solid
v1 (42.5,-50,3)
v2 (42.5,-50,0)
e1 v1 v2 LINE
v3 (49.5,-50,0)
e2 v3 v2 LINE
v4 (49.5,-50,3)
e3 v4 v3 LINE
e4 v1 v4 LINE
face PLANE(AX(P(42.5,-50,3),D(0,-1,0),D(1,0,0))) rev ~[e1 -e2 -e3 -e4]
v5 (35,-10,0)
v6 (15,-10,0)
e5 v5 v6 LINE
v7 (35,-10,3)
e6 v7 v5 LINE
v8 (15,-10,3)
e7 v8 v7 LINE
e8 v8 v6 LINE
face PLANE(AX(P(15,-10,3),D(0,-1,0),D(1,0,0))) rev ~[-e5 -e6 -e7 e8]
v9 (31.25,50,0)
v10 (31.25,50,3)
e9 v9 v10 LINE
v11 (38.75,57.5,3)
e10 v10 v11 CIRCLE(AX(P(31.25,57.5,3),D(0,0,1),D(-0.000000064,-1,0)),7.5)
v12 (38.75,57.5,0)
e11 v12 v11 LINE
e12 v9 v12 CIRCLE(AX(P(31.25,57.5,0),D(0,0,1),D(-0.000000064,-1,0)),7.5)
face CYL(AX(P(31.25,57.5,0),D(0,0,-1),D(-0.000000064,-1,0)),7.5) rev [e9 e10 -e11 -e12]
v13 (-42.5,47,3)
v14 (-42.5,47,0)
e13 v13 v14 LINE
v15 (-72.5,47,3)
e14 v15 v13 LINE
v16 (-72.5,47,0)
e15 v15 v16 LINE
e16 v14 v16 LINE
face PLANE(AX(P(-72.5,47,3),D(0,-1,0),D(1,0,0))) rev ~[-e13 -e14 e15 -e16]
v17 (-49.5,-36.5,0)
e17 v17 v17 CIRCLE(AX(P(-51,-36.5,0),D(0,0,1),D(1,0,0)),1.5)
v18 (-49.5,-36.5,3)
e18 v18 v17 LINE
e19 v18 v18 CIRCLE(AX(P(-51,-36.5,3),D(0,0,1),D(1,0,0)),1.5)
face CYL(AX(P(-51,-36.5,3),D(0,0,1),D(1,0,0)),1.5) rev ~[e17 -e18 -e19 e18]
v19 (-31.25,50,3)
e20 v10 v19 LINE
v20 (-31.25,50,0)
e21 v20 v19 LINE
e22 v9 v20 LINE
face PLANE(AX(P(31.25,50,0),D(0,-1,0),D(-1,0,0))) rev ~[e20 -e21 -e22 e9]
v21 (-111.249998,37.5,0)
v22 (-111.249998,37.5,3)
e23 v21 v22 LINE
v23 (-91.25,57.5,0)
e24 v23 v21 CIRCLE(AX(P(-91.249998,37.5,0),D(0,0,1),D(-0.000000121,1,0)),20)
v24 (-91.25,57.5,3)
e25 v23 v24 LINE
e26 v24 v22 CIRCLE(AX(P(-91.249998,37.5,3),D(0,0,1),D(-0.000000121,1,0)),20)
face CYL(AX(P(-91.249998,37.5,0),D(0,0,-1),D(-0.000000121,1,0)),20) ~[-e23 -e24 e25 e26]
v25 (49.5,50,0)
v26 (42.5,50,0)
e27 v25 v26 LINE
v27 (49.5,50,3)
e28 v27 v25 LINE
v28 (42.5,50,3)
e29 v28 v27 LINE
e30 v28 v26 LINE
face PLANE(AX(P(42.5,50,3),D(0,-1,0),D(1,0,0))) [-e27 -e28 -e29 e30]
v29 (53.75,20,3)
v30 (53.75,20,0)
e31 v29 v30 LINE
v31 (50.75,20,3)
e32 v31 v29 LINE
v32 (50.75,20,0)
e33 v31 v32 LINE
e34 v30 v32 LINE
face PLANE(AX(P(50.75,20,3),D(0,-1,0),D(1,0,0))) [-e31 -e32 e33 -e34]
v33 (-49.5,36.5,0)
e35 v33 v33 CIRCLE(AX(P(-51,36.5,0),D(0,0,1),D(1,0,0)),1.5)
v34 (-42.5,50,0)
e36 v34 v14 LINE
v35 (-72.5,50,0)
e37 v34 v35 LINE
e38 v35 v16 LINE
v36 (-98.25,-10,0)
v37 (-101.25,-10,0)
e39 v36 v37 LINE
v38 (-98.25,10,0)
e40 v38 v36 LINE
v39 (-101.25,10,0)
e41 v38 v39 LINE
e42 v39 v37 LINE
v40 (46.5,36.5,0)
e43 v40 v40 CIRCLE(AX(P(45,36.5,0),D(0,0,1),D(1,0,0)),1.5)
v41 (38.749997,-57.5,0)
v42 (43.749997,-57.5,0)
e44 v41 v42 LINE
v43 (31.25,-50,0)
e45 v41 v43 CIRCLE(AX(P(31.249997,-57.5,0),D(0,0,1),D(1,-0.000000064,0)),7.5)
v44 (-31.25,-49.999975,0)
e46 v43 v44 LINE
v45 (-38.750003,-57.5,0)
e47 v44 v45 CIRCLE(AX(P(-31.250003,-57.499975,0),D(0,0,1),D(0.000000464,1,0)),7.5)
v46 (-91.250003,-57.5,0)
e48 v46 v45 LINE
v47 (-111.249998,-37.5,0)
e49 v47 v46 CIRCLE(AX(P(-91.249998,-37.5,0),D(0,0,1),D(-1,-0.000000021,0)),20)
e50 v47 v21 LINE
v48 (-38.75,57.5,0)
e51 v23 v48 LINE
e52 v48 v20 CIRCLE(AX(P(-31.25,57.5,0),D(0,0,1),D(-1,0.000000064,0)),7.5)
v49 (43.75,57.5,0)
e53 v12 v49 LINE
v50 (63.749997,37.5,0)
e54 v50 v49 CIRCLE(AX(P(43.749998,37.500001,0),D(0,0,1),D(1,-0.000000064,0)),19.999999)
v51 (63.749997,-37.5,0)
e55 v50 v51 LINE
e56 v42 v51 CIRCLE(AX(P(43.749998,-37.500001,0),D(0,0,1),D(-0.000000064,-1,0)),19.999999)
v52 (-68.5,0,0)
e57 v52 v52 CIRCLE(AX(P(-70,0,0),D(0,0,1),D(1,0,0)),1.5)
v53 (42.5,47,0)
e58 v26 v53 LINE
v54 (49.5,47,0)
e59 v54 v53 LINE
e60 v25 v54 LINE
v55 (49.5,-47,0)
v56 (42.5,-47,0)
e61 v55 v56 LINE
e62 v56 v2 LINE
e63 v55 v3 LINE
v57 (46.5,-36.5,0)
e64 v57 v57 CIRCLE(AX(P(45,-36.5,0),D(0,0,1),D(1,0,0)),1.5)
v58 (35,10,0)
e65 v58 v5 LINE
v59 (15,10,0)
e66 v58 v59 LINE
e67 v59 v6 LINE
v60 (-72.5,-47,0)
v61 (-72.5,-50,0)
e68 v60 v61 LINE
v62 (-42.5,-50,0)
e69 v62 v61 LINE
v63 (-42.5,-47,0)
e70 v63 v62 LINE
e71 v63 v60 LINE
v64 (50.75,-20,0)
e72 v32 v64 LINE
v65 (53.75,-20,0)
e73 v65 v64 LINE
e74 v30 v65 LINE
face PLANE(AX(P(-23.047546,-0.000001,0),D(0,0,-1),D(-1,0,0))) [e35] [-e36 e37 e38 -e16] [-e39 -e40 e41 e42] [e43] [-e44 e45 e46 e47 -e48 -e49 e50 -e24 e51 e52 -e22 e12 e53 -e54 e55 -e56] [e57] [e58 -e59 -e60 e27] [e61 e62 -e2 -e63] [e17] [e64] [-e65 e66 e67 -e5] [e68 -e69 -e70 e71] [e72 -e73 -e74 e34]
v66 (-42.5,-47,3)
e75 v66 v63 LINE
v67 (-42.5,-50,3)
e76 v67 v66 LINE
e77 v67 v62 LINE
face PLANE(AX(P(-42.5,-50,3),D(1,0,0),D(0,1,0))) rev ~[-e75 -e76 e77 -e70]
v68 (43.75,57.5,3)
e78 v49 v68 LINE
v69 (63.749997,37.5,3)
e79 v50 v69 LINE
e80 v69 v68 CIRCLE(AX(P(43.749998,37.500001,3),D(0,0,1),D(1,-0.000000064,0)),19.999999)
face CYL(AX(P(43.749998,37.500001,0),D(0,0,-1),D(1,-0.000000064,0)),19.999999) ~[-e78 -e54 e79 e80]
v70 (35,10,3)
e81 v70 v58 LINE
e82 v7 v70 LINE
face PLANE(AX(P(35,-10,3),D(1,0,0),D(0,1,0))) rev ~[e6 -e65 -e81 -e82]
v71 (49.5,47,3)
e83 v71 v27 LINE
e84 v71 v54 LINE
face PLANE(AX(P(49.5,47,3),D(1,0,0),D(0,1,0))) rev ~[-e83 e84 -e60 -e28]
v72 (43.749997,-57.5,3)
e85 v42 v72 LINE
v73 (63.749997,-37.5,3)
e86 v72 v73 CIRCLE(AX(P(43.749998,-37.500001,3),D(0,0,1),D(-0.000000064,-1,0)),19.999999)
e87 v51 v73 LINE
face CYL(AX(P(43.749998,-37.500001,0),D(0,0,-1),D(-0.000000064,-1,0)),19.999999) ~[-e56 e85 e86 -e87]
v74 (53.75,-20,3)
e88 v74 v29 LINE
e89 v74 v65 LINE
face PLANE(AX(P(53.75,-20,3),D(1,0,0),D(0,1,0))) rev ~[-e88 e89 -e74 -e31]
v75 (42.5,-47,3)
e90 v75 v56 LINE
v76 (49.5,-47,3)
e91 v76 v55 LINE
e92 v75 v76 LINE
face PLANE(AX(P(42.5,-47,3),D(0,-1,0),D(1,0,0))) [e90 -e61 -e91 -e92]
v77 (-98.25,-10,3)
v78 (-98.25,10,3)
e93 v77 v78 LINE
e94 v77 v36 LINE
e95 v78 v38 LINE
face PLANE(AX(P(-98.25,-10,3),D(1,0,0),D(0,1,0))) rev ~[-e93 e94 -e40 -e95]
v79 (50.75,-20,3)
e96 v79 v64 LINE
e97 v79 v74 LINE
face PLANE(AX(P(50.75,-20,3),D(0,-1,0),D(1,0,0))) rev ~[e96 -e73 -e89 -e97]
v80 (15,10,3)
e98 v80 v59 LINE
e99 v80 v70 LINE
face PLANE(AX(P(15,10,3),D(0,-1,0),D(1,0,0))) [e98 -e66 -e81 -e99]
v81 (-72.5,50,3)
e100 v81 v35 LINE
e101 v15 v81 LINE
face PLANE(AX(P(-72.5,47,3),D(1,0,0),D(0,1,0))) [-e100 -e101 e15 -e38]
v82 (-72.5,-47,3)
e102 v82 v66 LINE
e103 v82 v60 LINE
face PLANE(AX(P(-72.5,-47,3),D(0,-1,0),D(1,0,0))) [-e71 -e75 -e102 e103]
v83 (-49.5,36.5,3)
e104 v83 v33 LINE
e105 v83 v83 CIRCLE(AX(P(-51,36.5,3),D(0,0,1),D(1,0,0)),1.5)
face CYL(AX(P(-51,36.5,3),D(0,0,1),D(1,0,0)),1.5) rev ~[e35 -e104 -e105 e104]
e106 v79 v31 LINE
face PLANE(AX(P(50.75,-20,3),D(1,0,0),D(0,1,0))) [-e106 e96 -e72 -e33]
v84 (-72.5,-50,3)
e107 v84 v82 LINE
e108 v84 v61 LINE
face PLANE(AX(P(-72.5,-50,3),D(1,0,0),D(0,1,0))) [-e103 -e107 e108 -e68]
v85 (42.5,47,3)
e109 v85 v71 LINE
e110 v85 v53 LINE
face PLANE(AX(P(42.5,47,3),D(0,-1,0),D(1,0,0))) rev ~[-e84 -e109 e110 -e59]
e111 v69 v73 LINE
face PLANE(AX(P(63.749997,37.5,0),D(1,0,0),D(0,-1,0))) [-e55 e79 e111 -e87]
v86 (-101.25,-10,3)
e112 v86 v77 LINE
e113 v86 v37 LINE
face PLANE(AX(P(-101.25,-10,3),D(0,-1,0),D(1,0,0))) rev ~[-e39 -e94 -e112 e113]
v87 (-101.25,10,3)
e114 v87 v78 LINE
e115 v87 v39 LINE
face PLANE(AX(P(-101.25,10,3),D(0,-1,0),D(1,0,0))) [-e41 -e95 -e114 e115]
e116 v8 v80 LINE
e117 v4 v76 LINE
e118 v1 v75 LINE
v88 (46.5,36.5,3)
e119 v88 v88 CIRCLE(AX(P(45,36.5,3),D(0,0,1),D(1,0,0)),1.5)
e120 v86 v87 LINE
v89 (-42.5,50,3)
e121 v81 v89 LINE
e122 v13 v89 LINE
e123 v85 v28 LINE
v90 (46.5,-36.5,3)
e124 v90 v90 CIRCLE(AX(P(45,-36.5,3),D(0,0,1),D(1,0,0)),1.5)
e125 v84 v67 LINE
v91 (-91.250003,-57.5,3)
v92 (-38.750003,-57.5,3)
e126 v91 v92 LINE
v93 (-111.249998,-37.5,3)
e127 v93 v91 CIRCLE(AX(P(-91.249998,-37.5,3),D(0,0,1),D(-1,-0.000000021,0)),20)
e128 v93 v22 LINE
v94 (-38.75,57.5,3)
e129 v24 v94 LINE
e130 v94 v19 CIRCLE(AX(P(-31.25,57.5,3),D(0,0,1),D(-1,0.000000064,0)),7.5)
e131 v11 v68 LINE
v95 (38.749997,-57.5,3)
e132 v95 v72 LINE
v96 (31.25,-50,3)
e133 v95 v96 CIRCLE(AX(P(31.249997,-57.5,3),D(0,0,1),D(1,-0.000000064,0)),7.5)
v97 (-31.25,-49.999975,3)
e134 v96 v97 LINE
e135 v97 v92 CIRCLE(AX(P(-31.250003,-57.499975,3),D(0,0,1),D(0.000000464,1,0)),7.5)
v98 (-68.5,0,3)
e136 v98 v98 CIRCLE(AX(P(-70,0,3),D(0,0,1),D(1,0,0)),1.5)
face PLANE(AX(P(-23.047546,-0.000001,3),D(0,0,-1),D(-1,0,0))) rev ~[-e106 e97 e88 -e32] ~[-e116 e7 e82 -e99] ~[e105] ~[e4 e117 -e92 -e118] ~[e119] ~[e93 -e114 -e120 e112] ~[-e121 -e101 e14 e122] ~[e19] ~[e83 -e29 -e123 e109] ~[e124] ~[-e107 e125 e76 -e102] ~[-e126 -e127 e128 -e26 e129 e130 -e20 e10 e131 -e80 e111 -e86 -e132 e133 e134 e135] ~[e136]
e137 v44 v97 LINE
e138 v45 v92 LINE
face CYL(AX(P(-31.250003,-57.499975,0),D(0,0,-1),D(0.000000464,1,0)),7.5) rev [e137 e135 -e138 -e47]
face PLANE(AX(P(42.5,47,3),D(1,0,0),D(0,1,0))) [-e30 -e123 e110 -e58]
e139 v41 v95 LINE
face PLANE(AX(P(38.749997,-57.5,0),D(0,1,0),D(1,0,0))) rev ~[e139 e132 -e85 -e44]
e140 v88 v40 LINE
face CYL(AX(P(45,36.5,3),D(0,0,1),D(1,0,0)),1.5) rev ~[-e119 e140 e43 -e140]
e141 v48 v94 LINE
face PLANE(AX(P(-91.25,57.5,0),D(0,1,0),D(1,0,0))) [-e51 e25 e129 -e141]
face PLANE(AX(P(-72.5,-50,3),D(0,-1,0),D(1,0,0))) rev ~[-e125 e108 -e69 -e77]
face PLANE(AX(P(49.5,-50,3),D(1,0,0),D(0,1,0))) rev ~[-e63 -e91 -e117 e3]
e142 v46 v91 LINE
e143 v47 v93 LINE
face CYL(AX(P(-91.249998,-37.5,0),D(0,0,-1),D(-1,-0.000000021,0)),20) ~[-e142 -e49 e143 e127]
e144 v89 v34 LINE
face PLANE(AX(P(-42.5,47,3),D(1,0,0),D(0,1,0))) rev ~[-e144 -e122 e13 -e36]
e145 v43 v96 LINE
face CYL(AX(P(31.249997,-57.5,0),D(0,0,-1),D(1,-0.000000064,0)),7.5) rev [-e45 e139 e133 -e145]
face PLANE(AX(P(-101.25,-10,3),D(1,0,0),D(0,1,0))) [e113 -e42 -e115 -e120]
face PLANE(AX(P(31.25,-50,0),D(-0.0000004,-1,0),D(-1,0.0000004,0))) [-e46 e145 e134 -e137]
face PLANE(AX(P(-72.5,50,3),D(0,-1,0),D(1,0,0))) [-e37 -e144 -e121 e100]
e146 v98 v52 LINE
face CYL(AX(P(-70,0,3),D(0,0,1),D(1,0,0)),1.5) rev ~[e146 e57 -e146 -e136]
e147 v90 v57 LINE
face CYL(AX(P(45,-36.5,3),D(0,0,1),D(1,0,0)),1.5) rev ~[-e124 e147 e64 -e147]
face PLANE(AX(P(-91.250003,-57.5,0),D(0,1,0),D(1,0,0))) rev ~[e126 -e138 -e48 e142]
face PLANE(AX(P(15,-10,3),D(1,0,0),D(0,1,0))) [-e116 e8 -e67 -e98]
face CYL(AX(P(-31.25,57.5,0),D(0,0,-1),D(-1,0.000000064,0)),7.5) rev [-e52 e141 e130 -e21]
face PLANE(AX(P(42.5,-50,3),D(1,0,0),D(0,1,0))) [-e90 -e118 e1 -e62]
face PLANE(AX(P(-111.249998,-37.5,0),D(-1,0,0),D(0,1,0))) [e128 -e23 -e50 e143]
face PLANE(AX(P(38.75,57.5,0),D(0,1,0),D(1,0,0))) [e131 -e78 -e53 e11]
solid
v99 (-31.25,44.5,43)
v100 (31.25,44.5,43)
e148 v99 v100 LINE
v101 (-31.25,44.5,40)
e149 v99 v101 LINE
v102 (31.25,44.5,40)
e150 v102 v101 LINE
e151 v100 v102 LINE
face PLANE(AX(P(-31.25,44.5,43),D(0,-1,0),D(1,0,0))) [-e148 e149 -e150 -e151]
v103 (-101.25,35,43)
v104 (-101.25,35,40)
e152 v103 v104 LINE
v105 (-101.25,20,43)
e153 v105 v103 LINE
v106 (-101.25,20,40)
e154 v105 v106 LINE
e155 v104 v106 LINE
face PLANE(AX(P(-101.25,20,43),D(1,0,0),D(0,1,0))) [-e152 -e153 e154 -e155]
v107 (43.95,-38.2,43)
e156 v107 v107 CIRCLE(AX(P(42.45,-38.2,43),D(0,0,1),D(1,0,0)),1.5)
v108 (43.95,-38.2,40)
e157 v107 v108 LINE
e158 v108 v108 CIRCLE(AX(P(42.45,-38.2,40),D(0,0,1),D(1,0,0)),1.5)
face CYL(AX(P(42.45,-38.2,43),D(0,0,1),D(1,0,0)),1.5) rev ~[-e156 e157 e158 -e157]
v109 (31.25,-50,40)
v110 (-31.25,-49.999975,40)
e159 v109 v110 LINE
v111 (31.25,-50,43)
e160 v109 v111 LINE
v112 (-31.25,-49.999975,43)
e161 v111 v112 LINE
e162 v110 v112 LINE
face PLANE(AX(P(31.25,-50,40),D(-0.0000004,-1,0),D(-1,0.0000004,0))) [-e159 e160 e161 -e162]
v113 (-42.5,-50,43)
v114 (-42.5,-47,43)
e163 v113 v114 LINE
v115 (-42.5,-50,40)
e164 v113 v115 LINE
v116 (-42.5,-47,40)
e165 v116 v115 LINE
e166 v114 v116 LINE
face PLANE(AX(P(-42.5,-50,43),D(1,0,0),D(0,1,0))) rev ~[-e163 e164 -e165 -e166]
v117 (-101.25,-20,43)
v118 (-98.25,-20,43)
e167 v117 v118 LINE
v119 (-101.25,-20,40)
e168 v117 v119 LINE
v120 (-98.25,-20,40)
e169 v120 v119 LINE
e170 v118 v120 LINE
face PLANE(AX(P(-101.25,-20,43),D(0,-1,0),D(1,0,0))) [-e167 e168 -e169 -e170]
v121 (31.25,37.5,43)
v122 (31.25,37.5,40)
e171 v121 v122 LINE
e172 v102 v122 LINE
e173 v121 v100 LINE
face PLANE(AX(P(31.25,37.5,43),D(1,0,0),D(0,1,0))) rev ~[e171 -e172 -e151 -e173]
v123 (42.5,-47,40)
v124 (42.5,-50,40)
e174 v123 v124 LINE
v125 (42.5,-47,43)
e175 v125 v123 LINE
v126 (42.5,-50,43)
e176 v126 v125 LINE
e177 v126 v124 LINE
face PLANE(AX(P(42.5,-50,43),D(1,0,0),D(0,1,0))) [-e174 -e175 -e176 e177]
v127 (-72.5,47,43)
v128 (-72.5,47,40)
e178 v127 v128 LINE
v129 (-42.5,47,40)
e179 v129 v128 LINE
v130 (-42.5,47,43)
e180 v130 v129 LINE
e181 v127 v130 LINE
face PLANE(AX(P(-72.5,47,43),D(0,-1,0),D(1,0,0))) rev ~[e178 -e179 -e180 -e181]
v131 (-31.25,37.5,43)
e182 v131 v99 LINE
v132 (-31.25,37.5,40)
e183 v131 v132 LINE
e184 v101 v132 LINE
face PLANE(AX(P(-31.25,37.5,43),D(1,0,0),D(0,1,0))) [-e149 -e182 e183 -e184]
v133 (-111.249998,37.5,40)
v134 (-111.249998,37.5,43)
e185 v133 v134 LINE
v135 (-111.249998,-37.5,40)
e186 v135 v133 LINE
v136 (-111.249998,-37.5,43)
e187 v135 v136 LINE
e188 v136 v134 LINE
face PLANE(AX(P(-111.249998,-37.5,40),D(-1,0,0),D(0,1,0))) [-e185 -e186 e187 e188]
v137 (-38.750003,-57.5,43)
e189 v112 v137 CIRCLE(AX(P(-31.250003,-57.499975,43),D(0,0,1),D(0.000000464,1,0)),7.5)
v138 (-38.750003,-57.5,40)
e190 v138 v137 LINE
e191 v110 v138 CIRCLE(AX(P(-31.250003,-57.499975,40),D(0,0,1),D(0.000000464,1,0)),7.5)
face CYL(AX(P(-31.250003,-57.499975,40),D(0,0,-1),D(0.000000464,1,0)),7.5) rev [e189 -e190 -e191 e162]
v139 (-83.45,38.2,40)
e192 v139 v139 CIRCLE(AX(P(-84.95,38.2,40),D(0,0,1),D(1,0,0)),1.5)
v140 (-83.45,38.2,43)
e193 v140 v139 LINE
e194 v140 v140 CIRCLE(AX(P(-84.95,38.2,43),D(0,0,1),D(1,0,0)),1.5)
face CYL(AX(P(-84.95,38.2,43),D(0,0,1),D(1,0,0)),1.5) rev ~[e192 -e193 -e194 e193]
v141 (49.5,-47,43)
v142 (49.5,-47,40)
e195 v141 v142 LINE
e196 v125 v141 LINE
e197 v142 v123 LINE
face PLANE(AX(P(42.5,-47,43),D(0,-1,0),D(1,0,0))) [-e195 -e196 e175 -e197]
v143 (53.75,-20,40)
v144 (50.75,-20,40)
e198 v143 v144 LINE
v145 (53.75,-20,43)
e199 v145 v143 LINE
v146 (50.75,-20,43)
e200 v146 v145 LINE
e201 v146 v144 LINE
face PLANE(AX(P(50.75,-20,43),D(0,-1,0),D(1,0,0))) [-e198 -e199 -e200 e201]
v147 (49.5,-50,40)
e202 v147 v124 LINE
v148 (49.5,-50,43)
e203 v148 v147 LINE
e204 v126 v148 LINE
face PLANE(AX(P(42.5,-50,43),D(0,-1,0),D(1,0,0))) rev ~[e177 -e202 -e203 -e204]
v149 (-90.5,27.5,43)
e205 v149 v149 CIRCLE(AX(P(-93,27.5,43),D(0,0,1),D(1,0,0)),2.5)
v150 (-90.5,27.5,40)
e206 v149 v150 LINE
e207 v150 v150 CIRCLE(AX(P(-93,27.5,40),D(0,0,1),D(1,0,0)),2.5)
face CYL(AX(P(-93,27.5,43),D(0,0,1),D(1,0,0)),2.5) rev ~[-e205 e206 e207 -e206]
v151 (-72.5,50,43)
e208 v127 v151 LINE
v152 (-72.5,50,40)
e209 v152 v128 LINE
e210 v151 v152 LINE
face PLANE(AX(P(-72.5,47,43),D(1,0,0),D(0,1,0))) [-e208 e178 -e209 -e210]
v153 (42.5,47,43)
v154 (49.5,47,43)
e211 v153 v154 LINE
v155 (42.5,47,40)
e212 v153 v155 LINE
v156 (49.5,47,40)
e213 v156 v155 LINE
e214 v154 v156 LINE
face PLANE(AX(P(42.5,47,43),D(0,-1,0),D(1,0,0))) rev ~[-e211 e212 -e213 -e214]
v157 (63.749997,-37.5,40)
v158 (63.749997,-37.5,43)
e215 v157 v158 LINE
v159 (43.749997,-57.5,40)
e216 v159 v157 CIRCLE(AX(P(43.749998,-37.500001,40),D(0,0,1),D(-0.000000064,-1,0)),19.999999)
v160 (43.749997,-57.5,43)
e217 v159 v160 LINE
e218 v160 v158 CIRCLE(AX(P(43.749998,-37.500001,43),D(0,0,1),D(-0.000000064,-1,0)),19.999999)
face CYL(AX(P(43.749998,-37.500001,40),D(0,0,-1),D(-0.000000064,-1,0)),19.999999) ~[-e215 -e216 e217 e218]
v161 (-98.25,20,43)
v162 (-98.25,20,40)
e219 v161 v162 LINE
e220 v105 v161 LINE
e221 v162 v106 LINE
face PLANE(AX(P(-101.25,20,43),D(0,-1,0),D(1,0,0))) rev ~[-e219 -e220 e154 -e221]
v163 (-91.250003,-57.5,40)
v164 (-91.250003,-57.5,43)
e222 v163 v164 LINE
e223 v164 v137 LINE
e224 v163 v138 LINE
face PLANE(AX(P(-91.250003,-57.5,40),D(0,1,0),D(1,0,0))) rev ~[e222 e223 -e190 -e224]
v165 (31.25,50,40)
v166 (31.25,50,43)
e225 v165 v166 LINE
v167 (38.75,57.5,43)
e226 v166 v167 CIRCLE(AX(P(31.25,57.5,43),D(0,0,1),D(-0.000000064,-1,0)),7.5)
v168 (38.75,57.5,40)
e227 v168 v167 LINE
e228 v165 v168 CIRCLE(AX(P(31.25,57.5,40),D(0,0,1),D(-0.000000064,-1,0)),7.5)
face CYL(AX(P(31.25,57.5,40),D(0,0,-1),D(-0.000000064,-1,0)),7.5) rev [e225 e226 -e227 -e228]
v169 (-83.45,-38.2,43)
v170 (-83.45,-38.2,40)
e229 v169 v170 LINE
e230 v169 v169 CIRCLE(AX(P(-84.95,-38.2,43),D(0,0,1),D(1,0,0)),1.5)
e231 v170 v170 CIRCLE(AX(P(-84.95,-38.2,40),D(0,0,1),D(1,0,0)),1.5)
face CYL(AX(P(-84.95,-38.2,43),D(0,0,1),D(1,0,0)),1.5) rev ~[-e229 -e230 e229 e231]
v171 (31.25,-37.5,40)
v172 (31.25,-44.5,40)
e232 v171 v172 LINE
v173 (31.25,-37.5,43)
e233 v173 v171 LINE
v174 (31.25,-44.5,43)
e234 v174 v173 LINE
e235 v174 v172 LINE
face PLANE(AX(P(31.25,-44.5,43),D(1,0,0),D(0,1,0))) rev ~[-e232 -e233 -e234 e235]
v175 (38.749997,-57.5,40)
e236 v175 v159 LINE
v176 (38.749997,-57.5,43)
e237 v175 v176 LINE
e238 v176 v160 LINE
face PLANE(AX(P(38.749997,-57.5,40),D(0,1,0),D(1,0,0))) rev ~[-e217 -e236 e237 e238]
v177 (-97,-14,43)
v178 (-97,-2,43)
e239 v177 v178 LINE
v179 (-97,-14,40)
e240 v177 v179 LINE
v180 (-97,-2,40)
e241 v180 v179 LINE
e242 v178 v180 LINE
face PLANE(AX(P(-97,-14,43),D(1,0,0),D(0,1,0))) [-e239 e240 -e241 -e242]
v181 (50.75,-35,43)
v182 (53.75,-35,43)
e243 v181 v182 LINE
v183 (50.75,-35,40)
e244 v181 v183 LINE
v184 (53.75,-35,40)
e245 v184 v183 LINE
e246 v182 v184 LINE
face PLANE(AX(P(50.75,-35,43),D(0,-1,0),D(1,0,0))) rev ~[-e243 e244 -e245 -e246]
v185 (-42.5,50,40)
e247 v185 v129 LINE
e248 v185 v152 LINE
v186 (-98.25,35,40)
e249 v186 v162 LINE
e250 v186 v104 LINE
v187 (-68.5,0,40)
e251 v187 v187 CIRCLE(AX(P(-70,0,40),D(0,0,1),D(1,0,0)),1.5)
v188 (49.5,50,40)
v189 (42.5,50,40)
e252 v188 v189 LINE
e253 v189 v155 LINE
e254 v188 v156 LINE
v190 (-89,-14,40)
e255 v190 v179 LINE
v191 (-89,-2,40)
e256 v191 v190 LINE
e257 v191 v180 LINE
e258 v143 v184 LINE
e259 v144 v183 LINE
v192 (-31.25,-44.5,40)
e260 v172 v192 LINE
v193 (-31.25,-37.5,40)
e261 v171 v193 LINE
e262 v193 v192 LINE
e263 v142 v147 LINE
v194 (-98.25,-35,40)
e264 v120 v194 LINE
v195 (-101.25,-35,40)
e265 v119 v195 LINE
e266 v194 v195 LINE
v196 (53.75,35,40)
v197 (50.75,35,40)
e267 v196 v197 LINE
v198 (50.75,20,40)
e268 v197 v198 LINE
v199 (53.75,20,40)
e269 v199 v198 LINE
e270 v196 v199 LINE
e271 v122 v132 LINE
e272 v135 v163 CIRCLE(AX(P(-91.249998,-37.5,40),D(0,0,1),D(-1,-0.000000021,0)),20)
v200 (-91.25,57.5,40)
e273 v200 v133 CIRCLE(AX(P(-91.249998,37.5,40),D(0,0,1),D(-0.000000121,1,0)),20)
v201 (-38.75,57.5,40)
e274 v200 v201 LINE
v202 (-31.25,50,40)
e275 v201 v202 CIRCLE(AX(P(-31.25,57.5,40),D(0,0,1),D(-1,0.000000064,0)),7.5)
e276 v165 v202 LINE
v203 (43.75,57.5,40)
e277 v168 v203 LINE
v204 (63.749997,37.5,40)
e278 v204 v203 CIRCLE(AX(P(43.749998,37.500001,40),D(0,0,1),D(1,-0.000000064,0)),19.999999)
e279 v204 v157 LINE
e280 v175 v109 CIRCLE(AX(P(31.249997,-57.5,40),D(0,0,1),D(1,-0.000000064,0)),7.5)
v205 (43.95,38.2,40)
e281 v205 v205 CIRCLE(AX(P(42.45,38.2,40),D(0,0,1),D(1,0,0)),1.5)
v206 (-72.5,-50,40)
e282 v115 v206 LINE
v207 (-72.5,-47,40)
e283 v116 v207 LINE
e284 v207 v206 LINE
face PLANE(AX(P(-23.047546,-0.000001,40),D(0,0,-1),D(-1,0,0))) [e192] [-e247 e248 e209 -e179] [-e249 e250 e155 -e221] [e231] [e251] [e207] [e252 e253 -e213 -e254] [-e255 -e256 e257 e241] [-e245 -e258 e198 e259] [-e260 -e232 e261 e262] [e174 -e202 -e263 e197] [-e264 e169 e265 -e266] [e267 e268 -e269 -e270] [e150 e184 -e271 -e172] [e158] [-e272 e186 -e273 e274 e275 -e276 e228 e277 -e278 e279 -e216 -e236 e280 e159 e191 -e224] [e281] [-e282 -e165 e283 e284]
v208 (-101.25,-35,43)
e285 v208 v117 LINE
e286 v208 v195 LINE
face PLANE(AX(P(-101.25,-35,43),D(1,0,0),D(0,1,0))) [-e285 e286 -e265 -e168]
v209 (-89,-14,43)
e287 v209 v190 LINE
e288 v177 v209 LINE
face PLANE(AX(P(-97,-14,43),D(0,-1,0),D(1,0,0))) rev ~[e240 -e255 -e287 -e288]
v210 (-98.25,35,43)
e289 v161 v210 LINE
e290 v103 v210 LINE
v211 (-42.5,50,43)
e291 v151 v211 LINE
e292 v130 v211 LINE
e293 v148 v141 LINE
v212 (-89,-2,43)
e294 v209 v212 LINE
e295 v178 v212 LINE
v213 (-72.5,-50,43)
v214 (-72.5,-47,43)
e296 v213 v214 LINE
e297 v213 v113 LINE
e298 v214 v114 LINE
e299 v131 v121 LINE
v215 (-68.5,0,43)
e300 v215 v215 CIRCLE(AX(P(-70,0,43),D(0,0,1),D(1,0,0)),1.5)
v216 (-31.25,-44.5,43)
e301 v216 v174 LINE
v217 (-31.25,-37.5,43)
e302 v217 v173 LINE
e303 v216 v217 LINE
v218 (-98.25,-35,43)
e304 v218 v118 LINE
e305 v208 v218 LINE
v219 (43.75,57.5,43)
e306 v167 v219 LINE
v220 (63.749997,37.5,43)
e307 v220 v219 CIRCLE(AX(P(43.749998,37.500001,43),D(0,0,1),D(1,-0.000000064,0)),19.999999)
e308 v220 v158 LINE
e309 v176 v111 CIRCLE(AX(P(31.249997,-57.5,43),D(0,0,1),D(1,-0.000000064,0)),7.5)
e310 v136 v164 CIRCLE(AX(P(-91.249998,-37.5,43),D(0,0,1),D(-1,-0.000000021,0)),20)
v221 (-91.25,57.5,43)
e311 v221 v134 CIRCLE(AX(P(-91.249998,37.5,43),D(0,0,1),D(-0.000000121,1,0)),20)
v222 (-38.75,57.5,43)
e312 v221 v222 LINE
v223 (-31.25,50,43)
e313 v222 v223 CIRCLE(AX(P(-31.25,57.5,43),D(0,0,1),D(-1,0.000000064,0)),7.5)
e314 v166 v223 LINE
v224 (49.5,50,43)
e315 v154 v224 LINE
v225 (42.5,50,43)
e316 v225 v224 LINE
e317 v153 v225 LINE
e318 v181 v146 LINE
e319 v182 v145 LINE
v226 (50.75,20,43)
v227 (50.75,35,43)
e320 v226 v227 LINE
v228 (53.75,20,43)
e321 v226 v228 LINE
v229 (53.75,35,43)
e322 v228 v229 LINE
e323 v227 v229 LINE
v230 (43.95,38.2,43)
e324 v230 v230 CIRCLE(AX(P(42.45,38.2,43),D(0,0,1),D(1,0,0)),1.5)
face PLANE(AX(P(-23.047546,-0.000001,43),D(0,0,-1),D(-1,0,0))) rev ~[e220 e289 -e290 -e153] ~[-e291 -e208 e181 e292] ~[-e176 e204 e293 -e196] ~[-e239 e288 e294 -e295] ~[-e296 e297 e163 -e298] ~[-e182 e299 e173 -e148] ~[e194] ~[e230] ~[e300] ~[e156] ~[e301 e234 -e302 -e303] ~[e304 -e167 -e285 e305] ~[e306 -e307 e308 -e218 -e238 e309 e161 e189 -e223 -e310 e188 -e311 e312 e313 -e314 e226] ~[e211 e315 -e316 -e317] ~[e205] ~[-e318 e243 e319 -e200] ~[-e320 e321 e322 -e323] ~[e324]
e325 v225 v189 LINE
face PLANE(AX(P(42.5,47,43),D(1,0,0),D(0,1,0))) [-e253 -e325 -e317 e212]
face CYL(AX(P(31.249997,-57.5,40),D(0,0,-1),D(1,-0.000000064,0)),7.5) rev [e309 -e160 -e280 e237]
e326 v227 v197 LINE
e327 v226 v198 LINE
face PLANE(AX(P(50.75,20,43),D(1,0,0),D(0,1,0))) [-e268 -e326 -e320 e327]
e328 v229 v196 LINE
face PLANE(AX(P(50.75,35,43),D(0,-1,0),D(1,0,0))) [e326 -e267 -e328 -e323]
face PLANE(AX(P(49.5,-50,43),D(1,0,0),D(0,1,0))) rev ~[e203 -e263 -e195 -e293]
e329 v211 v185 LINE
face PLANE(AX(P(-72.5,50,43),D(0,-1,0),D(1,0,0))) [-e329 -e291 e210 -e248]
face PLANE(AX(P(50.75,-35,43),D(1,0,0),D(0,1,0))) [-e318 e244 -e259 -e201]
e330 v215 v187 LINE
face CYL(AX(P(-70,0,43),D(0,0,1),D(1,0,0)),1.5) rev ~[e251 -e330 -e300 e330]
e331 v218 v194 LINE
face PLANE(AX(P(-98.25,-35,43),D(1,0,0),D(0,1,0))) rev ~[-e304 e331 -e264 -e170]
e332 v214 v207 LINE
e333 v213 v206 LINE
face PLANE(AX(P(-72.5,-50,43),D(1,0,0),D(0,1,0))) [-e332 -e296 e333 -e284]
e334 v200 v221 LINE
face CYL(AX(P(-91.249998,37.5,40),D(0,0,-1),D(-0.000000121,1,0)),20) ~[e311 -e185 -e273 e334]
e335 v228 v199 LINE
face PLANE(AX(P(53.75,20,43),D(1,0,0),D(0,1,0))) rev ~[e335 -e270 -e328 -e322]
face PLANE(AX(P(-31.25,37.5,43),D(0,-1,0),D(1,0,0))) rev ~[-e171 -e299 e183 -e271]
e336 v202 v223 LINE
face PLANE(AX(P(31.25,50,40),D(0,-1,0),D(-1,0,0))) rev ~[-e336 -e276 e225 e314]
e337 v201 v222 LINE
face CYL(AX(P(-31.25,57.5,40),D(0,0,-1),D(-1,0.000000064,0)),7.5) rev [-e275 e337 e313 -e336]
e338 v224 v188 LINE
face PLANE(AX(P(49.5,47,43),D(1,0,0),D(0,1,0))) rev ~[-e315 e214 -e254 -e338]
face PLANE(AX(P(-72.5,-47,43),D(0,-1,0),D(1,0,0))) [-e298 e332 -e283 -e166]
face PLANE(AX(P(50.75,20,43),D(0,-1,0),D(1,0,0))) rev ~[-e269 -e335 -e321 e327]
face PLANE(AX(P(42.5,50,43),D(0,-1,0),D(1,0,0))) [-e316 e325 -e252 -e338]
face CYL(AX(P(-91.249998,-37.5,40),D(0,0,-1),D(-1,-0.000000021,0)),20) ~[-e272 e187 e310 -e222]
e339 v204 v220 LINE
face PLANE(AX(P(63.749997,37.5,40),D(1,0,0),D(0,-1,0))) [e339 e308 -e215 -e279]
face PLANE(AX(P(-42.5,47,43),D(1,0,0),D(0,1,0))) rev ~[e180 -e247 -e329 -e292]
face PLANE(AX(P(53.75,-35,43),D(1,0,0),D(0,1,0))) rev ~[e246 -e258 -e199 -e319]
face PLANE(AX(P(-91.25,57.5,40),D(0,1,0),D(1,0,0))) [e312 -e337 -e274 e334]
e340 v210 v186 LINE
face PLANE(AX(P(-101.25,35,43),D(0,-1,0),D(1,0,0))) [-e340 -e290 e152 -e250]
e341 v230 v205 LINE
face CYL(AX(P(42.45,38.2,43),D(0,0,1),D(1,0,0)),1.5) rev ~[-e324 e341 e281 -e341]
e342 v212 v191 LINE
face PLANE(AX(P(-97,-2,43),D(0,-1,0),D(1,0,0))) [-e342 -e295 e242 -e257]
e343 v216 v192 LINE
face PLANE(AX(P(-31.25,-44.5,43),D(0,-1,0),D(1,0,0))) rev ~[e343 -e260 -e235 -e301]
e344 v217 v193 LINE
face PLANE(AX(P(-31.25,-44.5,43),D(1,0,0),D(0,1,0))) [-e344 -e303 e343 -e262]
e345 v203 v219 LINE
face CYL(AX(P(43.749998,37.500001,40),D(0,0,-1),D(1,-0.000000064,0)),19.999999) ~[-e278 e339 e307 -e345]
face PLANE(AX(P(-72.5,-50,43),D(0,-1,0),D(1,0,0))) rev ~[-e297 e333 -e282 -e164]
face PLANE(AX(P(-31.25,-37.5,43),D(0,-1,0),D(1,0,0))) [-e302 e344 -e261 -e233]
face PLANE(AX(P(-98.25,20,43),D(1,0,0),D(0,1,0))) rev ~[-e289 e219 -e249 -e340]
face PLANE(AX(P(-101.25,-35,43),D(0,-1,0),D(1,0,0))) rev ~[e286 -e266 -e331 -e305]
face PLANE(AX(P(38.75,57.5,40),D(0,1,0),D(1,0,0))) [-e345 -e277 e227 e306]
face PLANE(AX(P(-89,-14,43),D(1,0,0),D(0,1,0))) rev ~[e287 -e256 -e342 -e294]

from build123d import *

# Parameters (mm, degrees)
PAD_DEPTH       = 3
SKETCH001_R     = 1.5
POCKET_DEPTH    = 3.001
SKETCH002_W     = 30
SKETCH002_H     = 3
SKETCH002_W_2   = 7
POCKET001_DEPTH = 3.001
SKETCH003_W     = 3
SKETCH003_H     = 20
SKETCH003_H_2   = 40
POCKET002_DEPTH = 3.001
SKETCH004_R     = 1.5
SKETCH004_W     = 20
SKETCH004_H     = 20
POCKET003_DEPTH = 3.001
SKETCH005_W     = 3
SKETCH005_H     = 15
POCKET004_DEPTH = 3.001
SKETCH006_W     = 62.5
SKETCH006_H     = 7
POCKET005_DEPTH = 3.001
SKETCH007_R     = 1.5
POCKET006_DEPTH = 3.001
SKETCH008_R     = 2.5
SKETCH008_W     = 8
SKETCH008_H     = 12
POCKET007_DEPTH = 3.001


with BuildPart() as tapainferiorencastrelaterales:
    # Sketch → Pad (new body)
    with BuildSketch(Plane.XY):
        with BuildLine():
            Line((63.749997, 37.5), (63.749997, -37.5))
            ThreePointArc((43.749997, -57.5), (57.892133, -51.642136), (63.749997, -37.5))
            Line((38.749997, -57.5), (43.749997, -57.5))
            ThreePointArc((38.749997, -57.5), (36.553299, -52.1967), (31.25, -50))
            Line((31.25, -50), (-31.25, -49.999975))
            ThreePointArc((-31.25, -49.999975), (-36.553312, -52.196682), (-38.750003, -57.5))
            Line((-91.250003, -57.5), (-38.750003, -57.5))
            ThreePointArc((-111.249998, -37.5), (-105.392135, -51.642134), (-91.250003, -57.5))
            Line((-111.249998, -37.5), (-111.249998, 37.5))
            ThreePointArc((-91.25, 57.5), (-105.392134, 51.642135), (-111.249998, 37.5))
            Line((-91.25, 57.5), (-38.75, 57.5))
            ThreePointArc((-38.75, 57.5), (-36.553301, 52.196699), (-31.25, 50))
            Line((31.25, 50), (-31.25, 50))
            ThreePointArc((31.25, 50), (36.553301, 52.196699), (38.75, 57.5))
            Line((38.75, 57.5), (43.75, 57.5))
            ThreePointArc((63.749997, 37.5), (57.892134, 51.642135), (43.75, 57.5))
        make_face()
    extrude(amount=PAD_DEPTH)

    # Sketch001 → Pocket (cut, through all)
    with BuildSketch(Plane.XY.offset(3)):
        with Locations((-70, 0)):
            Circle(SKETCH001_R)
    extrude(amount=-POCKET_DEPTH, mode=Mode.SUBTRACT)

    # Sketch002 → Pocket001 (cut, through all)
    with BuildSketch(Plane.XY.offset(3)):
        with Locations((-57.5, -48.5)):
            Rectangle(SKETCH002_W, SKETCH002_H)
        with Locations((-57.5, 48.5)):
            Rectangle(SKETCH002_W, SKETCH002_H)
        with Locations((46, 48.5)):
            Rectangle(SKETCH002_W_2, SKETCH002_H)
        with Locations((46, -48.5)):
            Rectangle(SKETCH002_W_2, SKETCH002_H)
    extrude(amount=-POCKET001_DEPTH, mode=Mode.SUBTRACT)


with BuildPart() as tapainferiorhuecospcb:
    # Pocket002 base: copy of TapaInferiorEncastreLaterales
    add(tapainferiorencastrelaterales.part)

    # Sketch003 → Pocket002 (cut, through all)
    with BuildSketch(Plane.XY.offset(3)):
        with Locations((-99.75, 0)):
            Rectangle(SKETCH003_W, SKETCH003_H)
        with Locations((52.25, 0)):
            Rectangle(SKETCH003_W, SKETCH003_H_2)
    extrude(amount=-POCKET002_DEPTH, mode=Mode.SUBTRACT)

    # Sketch004 → Pocket003 (cut, through all)
    with BuildSketch(Plane.XY.offset(3)):
        with Locations((-51, 36.5)):
            Circle(SKETCH004_R)
        with Locations((-51, -36.5)):
            Circle(SKETCH004_R)
        with Locations((45, 36.5)):
            Circle(SKETCH004_R)
        with Locations((45, -36.5)):
            Circle(SKETCH004_R)
        with Locations((25, 0)):
            Rectangle(SKETCH004_W, SKETCH004_H)
    extrude(amount=-POCKET003_DEPTH, mode=Mode.SUBTRACT)


with BuildPart() as tapasuperioreduciaabateria:
    # Clone base: copy of TapaInferiorEncastreLaterales
    add(tapainferiorencastrelaterales.part)


with BuildPart() as tapasuperioreduciaabateria_1:
    # Clone placement: moved
    add(tapasuperioreduciaabateria.part.moved(Location((0, 0, 40))))

    # Sketch005 → Pocket004 (cut, through all)
    with BuildSketch(Plane.XY.offset(43)):
        with Locations((52.25, 27.5)):
            Rectangle(SKETCH005_W, SKETCH005_H)
        with Locations((52.25, -27.5)):
            Rectangle(SKETCH005_W, SKETCH005_H)
        with Locations((-99.75, 27.5)):
            Rectangle(SKETCH005_W, SKETCH005_H)
        with Locations((-99.75, -27.5)):
            Rectangle(SKETCH005_W, SKETCH005_H)
    extrude(amount=-POCKET004_DEPTH, mode=Mode.SUBTRACT)

    # Sketch006 → Pocket005 (cut, through all)
    with BuildSketch(Plane.XY.offset(43)):
        with Locations((0, 41)):
            Rectangle(SKETCH006_W, SKETCH006_H)
        with Locations((0, -41)):
            Rectangle(SKETCH006_W, SKETCH006_H)
    extrude(amount=-POCKET005_DEPTH, mode=Mode.SUBTRACT)

    # Sketch007 → Pocket006 (cut, through all)
    with BuildSketch(Plane.XY.offset(43)):
        with Locations((-84.95, 38.2)):
            Circle(SKETCH007_R)
        with Locations((-84.95, -38.2)):
            Circle(SKETCH007_R)
        with Locations((42.45, 38.2)):
            Circle(SKETCH007_R)
        with Locations((42.45, -38.2)):
            Circle(SKETCH007_R)
    extrude(amount=-POCKET006_DEPTH, mode=Mode.SUBTRACT)

    # Sketch008 → Pocket007 (cut, through all)
    with BuildSketch(Plane.XY.offset(43)):
        with Locations((-93, 27.5)):
            Circle(SKETCH008_R)
        with Locations((-93, -8)):
            Rectangle(SKETCH008_W, SKETCH008_H)
    extrude(amount=-POCKET007_DEPTH, mode=Mode.SUBTRACT)


solid = Compound([tapainferiorhuecospcb.part, tapasuperioreduciaabateria_1.part])
